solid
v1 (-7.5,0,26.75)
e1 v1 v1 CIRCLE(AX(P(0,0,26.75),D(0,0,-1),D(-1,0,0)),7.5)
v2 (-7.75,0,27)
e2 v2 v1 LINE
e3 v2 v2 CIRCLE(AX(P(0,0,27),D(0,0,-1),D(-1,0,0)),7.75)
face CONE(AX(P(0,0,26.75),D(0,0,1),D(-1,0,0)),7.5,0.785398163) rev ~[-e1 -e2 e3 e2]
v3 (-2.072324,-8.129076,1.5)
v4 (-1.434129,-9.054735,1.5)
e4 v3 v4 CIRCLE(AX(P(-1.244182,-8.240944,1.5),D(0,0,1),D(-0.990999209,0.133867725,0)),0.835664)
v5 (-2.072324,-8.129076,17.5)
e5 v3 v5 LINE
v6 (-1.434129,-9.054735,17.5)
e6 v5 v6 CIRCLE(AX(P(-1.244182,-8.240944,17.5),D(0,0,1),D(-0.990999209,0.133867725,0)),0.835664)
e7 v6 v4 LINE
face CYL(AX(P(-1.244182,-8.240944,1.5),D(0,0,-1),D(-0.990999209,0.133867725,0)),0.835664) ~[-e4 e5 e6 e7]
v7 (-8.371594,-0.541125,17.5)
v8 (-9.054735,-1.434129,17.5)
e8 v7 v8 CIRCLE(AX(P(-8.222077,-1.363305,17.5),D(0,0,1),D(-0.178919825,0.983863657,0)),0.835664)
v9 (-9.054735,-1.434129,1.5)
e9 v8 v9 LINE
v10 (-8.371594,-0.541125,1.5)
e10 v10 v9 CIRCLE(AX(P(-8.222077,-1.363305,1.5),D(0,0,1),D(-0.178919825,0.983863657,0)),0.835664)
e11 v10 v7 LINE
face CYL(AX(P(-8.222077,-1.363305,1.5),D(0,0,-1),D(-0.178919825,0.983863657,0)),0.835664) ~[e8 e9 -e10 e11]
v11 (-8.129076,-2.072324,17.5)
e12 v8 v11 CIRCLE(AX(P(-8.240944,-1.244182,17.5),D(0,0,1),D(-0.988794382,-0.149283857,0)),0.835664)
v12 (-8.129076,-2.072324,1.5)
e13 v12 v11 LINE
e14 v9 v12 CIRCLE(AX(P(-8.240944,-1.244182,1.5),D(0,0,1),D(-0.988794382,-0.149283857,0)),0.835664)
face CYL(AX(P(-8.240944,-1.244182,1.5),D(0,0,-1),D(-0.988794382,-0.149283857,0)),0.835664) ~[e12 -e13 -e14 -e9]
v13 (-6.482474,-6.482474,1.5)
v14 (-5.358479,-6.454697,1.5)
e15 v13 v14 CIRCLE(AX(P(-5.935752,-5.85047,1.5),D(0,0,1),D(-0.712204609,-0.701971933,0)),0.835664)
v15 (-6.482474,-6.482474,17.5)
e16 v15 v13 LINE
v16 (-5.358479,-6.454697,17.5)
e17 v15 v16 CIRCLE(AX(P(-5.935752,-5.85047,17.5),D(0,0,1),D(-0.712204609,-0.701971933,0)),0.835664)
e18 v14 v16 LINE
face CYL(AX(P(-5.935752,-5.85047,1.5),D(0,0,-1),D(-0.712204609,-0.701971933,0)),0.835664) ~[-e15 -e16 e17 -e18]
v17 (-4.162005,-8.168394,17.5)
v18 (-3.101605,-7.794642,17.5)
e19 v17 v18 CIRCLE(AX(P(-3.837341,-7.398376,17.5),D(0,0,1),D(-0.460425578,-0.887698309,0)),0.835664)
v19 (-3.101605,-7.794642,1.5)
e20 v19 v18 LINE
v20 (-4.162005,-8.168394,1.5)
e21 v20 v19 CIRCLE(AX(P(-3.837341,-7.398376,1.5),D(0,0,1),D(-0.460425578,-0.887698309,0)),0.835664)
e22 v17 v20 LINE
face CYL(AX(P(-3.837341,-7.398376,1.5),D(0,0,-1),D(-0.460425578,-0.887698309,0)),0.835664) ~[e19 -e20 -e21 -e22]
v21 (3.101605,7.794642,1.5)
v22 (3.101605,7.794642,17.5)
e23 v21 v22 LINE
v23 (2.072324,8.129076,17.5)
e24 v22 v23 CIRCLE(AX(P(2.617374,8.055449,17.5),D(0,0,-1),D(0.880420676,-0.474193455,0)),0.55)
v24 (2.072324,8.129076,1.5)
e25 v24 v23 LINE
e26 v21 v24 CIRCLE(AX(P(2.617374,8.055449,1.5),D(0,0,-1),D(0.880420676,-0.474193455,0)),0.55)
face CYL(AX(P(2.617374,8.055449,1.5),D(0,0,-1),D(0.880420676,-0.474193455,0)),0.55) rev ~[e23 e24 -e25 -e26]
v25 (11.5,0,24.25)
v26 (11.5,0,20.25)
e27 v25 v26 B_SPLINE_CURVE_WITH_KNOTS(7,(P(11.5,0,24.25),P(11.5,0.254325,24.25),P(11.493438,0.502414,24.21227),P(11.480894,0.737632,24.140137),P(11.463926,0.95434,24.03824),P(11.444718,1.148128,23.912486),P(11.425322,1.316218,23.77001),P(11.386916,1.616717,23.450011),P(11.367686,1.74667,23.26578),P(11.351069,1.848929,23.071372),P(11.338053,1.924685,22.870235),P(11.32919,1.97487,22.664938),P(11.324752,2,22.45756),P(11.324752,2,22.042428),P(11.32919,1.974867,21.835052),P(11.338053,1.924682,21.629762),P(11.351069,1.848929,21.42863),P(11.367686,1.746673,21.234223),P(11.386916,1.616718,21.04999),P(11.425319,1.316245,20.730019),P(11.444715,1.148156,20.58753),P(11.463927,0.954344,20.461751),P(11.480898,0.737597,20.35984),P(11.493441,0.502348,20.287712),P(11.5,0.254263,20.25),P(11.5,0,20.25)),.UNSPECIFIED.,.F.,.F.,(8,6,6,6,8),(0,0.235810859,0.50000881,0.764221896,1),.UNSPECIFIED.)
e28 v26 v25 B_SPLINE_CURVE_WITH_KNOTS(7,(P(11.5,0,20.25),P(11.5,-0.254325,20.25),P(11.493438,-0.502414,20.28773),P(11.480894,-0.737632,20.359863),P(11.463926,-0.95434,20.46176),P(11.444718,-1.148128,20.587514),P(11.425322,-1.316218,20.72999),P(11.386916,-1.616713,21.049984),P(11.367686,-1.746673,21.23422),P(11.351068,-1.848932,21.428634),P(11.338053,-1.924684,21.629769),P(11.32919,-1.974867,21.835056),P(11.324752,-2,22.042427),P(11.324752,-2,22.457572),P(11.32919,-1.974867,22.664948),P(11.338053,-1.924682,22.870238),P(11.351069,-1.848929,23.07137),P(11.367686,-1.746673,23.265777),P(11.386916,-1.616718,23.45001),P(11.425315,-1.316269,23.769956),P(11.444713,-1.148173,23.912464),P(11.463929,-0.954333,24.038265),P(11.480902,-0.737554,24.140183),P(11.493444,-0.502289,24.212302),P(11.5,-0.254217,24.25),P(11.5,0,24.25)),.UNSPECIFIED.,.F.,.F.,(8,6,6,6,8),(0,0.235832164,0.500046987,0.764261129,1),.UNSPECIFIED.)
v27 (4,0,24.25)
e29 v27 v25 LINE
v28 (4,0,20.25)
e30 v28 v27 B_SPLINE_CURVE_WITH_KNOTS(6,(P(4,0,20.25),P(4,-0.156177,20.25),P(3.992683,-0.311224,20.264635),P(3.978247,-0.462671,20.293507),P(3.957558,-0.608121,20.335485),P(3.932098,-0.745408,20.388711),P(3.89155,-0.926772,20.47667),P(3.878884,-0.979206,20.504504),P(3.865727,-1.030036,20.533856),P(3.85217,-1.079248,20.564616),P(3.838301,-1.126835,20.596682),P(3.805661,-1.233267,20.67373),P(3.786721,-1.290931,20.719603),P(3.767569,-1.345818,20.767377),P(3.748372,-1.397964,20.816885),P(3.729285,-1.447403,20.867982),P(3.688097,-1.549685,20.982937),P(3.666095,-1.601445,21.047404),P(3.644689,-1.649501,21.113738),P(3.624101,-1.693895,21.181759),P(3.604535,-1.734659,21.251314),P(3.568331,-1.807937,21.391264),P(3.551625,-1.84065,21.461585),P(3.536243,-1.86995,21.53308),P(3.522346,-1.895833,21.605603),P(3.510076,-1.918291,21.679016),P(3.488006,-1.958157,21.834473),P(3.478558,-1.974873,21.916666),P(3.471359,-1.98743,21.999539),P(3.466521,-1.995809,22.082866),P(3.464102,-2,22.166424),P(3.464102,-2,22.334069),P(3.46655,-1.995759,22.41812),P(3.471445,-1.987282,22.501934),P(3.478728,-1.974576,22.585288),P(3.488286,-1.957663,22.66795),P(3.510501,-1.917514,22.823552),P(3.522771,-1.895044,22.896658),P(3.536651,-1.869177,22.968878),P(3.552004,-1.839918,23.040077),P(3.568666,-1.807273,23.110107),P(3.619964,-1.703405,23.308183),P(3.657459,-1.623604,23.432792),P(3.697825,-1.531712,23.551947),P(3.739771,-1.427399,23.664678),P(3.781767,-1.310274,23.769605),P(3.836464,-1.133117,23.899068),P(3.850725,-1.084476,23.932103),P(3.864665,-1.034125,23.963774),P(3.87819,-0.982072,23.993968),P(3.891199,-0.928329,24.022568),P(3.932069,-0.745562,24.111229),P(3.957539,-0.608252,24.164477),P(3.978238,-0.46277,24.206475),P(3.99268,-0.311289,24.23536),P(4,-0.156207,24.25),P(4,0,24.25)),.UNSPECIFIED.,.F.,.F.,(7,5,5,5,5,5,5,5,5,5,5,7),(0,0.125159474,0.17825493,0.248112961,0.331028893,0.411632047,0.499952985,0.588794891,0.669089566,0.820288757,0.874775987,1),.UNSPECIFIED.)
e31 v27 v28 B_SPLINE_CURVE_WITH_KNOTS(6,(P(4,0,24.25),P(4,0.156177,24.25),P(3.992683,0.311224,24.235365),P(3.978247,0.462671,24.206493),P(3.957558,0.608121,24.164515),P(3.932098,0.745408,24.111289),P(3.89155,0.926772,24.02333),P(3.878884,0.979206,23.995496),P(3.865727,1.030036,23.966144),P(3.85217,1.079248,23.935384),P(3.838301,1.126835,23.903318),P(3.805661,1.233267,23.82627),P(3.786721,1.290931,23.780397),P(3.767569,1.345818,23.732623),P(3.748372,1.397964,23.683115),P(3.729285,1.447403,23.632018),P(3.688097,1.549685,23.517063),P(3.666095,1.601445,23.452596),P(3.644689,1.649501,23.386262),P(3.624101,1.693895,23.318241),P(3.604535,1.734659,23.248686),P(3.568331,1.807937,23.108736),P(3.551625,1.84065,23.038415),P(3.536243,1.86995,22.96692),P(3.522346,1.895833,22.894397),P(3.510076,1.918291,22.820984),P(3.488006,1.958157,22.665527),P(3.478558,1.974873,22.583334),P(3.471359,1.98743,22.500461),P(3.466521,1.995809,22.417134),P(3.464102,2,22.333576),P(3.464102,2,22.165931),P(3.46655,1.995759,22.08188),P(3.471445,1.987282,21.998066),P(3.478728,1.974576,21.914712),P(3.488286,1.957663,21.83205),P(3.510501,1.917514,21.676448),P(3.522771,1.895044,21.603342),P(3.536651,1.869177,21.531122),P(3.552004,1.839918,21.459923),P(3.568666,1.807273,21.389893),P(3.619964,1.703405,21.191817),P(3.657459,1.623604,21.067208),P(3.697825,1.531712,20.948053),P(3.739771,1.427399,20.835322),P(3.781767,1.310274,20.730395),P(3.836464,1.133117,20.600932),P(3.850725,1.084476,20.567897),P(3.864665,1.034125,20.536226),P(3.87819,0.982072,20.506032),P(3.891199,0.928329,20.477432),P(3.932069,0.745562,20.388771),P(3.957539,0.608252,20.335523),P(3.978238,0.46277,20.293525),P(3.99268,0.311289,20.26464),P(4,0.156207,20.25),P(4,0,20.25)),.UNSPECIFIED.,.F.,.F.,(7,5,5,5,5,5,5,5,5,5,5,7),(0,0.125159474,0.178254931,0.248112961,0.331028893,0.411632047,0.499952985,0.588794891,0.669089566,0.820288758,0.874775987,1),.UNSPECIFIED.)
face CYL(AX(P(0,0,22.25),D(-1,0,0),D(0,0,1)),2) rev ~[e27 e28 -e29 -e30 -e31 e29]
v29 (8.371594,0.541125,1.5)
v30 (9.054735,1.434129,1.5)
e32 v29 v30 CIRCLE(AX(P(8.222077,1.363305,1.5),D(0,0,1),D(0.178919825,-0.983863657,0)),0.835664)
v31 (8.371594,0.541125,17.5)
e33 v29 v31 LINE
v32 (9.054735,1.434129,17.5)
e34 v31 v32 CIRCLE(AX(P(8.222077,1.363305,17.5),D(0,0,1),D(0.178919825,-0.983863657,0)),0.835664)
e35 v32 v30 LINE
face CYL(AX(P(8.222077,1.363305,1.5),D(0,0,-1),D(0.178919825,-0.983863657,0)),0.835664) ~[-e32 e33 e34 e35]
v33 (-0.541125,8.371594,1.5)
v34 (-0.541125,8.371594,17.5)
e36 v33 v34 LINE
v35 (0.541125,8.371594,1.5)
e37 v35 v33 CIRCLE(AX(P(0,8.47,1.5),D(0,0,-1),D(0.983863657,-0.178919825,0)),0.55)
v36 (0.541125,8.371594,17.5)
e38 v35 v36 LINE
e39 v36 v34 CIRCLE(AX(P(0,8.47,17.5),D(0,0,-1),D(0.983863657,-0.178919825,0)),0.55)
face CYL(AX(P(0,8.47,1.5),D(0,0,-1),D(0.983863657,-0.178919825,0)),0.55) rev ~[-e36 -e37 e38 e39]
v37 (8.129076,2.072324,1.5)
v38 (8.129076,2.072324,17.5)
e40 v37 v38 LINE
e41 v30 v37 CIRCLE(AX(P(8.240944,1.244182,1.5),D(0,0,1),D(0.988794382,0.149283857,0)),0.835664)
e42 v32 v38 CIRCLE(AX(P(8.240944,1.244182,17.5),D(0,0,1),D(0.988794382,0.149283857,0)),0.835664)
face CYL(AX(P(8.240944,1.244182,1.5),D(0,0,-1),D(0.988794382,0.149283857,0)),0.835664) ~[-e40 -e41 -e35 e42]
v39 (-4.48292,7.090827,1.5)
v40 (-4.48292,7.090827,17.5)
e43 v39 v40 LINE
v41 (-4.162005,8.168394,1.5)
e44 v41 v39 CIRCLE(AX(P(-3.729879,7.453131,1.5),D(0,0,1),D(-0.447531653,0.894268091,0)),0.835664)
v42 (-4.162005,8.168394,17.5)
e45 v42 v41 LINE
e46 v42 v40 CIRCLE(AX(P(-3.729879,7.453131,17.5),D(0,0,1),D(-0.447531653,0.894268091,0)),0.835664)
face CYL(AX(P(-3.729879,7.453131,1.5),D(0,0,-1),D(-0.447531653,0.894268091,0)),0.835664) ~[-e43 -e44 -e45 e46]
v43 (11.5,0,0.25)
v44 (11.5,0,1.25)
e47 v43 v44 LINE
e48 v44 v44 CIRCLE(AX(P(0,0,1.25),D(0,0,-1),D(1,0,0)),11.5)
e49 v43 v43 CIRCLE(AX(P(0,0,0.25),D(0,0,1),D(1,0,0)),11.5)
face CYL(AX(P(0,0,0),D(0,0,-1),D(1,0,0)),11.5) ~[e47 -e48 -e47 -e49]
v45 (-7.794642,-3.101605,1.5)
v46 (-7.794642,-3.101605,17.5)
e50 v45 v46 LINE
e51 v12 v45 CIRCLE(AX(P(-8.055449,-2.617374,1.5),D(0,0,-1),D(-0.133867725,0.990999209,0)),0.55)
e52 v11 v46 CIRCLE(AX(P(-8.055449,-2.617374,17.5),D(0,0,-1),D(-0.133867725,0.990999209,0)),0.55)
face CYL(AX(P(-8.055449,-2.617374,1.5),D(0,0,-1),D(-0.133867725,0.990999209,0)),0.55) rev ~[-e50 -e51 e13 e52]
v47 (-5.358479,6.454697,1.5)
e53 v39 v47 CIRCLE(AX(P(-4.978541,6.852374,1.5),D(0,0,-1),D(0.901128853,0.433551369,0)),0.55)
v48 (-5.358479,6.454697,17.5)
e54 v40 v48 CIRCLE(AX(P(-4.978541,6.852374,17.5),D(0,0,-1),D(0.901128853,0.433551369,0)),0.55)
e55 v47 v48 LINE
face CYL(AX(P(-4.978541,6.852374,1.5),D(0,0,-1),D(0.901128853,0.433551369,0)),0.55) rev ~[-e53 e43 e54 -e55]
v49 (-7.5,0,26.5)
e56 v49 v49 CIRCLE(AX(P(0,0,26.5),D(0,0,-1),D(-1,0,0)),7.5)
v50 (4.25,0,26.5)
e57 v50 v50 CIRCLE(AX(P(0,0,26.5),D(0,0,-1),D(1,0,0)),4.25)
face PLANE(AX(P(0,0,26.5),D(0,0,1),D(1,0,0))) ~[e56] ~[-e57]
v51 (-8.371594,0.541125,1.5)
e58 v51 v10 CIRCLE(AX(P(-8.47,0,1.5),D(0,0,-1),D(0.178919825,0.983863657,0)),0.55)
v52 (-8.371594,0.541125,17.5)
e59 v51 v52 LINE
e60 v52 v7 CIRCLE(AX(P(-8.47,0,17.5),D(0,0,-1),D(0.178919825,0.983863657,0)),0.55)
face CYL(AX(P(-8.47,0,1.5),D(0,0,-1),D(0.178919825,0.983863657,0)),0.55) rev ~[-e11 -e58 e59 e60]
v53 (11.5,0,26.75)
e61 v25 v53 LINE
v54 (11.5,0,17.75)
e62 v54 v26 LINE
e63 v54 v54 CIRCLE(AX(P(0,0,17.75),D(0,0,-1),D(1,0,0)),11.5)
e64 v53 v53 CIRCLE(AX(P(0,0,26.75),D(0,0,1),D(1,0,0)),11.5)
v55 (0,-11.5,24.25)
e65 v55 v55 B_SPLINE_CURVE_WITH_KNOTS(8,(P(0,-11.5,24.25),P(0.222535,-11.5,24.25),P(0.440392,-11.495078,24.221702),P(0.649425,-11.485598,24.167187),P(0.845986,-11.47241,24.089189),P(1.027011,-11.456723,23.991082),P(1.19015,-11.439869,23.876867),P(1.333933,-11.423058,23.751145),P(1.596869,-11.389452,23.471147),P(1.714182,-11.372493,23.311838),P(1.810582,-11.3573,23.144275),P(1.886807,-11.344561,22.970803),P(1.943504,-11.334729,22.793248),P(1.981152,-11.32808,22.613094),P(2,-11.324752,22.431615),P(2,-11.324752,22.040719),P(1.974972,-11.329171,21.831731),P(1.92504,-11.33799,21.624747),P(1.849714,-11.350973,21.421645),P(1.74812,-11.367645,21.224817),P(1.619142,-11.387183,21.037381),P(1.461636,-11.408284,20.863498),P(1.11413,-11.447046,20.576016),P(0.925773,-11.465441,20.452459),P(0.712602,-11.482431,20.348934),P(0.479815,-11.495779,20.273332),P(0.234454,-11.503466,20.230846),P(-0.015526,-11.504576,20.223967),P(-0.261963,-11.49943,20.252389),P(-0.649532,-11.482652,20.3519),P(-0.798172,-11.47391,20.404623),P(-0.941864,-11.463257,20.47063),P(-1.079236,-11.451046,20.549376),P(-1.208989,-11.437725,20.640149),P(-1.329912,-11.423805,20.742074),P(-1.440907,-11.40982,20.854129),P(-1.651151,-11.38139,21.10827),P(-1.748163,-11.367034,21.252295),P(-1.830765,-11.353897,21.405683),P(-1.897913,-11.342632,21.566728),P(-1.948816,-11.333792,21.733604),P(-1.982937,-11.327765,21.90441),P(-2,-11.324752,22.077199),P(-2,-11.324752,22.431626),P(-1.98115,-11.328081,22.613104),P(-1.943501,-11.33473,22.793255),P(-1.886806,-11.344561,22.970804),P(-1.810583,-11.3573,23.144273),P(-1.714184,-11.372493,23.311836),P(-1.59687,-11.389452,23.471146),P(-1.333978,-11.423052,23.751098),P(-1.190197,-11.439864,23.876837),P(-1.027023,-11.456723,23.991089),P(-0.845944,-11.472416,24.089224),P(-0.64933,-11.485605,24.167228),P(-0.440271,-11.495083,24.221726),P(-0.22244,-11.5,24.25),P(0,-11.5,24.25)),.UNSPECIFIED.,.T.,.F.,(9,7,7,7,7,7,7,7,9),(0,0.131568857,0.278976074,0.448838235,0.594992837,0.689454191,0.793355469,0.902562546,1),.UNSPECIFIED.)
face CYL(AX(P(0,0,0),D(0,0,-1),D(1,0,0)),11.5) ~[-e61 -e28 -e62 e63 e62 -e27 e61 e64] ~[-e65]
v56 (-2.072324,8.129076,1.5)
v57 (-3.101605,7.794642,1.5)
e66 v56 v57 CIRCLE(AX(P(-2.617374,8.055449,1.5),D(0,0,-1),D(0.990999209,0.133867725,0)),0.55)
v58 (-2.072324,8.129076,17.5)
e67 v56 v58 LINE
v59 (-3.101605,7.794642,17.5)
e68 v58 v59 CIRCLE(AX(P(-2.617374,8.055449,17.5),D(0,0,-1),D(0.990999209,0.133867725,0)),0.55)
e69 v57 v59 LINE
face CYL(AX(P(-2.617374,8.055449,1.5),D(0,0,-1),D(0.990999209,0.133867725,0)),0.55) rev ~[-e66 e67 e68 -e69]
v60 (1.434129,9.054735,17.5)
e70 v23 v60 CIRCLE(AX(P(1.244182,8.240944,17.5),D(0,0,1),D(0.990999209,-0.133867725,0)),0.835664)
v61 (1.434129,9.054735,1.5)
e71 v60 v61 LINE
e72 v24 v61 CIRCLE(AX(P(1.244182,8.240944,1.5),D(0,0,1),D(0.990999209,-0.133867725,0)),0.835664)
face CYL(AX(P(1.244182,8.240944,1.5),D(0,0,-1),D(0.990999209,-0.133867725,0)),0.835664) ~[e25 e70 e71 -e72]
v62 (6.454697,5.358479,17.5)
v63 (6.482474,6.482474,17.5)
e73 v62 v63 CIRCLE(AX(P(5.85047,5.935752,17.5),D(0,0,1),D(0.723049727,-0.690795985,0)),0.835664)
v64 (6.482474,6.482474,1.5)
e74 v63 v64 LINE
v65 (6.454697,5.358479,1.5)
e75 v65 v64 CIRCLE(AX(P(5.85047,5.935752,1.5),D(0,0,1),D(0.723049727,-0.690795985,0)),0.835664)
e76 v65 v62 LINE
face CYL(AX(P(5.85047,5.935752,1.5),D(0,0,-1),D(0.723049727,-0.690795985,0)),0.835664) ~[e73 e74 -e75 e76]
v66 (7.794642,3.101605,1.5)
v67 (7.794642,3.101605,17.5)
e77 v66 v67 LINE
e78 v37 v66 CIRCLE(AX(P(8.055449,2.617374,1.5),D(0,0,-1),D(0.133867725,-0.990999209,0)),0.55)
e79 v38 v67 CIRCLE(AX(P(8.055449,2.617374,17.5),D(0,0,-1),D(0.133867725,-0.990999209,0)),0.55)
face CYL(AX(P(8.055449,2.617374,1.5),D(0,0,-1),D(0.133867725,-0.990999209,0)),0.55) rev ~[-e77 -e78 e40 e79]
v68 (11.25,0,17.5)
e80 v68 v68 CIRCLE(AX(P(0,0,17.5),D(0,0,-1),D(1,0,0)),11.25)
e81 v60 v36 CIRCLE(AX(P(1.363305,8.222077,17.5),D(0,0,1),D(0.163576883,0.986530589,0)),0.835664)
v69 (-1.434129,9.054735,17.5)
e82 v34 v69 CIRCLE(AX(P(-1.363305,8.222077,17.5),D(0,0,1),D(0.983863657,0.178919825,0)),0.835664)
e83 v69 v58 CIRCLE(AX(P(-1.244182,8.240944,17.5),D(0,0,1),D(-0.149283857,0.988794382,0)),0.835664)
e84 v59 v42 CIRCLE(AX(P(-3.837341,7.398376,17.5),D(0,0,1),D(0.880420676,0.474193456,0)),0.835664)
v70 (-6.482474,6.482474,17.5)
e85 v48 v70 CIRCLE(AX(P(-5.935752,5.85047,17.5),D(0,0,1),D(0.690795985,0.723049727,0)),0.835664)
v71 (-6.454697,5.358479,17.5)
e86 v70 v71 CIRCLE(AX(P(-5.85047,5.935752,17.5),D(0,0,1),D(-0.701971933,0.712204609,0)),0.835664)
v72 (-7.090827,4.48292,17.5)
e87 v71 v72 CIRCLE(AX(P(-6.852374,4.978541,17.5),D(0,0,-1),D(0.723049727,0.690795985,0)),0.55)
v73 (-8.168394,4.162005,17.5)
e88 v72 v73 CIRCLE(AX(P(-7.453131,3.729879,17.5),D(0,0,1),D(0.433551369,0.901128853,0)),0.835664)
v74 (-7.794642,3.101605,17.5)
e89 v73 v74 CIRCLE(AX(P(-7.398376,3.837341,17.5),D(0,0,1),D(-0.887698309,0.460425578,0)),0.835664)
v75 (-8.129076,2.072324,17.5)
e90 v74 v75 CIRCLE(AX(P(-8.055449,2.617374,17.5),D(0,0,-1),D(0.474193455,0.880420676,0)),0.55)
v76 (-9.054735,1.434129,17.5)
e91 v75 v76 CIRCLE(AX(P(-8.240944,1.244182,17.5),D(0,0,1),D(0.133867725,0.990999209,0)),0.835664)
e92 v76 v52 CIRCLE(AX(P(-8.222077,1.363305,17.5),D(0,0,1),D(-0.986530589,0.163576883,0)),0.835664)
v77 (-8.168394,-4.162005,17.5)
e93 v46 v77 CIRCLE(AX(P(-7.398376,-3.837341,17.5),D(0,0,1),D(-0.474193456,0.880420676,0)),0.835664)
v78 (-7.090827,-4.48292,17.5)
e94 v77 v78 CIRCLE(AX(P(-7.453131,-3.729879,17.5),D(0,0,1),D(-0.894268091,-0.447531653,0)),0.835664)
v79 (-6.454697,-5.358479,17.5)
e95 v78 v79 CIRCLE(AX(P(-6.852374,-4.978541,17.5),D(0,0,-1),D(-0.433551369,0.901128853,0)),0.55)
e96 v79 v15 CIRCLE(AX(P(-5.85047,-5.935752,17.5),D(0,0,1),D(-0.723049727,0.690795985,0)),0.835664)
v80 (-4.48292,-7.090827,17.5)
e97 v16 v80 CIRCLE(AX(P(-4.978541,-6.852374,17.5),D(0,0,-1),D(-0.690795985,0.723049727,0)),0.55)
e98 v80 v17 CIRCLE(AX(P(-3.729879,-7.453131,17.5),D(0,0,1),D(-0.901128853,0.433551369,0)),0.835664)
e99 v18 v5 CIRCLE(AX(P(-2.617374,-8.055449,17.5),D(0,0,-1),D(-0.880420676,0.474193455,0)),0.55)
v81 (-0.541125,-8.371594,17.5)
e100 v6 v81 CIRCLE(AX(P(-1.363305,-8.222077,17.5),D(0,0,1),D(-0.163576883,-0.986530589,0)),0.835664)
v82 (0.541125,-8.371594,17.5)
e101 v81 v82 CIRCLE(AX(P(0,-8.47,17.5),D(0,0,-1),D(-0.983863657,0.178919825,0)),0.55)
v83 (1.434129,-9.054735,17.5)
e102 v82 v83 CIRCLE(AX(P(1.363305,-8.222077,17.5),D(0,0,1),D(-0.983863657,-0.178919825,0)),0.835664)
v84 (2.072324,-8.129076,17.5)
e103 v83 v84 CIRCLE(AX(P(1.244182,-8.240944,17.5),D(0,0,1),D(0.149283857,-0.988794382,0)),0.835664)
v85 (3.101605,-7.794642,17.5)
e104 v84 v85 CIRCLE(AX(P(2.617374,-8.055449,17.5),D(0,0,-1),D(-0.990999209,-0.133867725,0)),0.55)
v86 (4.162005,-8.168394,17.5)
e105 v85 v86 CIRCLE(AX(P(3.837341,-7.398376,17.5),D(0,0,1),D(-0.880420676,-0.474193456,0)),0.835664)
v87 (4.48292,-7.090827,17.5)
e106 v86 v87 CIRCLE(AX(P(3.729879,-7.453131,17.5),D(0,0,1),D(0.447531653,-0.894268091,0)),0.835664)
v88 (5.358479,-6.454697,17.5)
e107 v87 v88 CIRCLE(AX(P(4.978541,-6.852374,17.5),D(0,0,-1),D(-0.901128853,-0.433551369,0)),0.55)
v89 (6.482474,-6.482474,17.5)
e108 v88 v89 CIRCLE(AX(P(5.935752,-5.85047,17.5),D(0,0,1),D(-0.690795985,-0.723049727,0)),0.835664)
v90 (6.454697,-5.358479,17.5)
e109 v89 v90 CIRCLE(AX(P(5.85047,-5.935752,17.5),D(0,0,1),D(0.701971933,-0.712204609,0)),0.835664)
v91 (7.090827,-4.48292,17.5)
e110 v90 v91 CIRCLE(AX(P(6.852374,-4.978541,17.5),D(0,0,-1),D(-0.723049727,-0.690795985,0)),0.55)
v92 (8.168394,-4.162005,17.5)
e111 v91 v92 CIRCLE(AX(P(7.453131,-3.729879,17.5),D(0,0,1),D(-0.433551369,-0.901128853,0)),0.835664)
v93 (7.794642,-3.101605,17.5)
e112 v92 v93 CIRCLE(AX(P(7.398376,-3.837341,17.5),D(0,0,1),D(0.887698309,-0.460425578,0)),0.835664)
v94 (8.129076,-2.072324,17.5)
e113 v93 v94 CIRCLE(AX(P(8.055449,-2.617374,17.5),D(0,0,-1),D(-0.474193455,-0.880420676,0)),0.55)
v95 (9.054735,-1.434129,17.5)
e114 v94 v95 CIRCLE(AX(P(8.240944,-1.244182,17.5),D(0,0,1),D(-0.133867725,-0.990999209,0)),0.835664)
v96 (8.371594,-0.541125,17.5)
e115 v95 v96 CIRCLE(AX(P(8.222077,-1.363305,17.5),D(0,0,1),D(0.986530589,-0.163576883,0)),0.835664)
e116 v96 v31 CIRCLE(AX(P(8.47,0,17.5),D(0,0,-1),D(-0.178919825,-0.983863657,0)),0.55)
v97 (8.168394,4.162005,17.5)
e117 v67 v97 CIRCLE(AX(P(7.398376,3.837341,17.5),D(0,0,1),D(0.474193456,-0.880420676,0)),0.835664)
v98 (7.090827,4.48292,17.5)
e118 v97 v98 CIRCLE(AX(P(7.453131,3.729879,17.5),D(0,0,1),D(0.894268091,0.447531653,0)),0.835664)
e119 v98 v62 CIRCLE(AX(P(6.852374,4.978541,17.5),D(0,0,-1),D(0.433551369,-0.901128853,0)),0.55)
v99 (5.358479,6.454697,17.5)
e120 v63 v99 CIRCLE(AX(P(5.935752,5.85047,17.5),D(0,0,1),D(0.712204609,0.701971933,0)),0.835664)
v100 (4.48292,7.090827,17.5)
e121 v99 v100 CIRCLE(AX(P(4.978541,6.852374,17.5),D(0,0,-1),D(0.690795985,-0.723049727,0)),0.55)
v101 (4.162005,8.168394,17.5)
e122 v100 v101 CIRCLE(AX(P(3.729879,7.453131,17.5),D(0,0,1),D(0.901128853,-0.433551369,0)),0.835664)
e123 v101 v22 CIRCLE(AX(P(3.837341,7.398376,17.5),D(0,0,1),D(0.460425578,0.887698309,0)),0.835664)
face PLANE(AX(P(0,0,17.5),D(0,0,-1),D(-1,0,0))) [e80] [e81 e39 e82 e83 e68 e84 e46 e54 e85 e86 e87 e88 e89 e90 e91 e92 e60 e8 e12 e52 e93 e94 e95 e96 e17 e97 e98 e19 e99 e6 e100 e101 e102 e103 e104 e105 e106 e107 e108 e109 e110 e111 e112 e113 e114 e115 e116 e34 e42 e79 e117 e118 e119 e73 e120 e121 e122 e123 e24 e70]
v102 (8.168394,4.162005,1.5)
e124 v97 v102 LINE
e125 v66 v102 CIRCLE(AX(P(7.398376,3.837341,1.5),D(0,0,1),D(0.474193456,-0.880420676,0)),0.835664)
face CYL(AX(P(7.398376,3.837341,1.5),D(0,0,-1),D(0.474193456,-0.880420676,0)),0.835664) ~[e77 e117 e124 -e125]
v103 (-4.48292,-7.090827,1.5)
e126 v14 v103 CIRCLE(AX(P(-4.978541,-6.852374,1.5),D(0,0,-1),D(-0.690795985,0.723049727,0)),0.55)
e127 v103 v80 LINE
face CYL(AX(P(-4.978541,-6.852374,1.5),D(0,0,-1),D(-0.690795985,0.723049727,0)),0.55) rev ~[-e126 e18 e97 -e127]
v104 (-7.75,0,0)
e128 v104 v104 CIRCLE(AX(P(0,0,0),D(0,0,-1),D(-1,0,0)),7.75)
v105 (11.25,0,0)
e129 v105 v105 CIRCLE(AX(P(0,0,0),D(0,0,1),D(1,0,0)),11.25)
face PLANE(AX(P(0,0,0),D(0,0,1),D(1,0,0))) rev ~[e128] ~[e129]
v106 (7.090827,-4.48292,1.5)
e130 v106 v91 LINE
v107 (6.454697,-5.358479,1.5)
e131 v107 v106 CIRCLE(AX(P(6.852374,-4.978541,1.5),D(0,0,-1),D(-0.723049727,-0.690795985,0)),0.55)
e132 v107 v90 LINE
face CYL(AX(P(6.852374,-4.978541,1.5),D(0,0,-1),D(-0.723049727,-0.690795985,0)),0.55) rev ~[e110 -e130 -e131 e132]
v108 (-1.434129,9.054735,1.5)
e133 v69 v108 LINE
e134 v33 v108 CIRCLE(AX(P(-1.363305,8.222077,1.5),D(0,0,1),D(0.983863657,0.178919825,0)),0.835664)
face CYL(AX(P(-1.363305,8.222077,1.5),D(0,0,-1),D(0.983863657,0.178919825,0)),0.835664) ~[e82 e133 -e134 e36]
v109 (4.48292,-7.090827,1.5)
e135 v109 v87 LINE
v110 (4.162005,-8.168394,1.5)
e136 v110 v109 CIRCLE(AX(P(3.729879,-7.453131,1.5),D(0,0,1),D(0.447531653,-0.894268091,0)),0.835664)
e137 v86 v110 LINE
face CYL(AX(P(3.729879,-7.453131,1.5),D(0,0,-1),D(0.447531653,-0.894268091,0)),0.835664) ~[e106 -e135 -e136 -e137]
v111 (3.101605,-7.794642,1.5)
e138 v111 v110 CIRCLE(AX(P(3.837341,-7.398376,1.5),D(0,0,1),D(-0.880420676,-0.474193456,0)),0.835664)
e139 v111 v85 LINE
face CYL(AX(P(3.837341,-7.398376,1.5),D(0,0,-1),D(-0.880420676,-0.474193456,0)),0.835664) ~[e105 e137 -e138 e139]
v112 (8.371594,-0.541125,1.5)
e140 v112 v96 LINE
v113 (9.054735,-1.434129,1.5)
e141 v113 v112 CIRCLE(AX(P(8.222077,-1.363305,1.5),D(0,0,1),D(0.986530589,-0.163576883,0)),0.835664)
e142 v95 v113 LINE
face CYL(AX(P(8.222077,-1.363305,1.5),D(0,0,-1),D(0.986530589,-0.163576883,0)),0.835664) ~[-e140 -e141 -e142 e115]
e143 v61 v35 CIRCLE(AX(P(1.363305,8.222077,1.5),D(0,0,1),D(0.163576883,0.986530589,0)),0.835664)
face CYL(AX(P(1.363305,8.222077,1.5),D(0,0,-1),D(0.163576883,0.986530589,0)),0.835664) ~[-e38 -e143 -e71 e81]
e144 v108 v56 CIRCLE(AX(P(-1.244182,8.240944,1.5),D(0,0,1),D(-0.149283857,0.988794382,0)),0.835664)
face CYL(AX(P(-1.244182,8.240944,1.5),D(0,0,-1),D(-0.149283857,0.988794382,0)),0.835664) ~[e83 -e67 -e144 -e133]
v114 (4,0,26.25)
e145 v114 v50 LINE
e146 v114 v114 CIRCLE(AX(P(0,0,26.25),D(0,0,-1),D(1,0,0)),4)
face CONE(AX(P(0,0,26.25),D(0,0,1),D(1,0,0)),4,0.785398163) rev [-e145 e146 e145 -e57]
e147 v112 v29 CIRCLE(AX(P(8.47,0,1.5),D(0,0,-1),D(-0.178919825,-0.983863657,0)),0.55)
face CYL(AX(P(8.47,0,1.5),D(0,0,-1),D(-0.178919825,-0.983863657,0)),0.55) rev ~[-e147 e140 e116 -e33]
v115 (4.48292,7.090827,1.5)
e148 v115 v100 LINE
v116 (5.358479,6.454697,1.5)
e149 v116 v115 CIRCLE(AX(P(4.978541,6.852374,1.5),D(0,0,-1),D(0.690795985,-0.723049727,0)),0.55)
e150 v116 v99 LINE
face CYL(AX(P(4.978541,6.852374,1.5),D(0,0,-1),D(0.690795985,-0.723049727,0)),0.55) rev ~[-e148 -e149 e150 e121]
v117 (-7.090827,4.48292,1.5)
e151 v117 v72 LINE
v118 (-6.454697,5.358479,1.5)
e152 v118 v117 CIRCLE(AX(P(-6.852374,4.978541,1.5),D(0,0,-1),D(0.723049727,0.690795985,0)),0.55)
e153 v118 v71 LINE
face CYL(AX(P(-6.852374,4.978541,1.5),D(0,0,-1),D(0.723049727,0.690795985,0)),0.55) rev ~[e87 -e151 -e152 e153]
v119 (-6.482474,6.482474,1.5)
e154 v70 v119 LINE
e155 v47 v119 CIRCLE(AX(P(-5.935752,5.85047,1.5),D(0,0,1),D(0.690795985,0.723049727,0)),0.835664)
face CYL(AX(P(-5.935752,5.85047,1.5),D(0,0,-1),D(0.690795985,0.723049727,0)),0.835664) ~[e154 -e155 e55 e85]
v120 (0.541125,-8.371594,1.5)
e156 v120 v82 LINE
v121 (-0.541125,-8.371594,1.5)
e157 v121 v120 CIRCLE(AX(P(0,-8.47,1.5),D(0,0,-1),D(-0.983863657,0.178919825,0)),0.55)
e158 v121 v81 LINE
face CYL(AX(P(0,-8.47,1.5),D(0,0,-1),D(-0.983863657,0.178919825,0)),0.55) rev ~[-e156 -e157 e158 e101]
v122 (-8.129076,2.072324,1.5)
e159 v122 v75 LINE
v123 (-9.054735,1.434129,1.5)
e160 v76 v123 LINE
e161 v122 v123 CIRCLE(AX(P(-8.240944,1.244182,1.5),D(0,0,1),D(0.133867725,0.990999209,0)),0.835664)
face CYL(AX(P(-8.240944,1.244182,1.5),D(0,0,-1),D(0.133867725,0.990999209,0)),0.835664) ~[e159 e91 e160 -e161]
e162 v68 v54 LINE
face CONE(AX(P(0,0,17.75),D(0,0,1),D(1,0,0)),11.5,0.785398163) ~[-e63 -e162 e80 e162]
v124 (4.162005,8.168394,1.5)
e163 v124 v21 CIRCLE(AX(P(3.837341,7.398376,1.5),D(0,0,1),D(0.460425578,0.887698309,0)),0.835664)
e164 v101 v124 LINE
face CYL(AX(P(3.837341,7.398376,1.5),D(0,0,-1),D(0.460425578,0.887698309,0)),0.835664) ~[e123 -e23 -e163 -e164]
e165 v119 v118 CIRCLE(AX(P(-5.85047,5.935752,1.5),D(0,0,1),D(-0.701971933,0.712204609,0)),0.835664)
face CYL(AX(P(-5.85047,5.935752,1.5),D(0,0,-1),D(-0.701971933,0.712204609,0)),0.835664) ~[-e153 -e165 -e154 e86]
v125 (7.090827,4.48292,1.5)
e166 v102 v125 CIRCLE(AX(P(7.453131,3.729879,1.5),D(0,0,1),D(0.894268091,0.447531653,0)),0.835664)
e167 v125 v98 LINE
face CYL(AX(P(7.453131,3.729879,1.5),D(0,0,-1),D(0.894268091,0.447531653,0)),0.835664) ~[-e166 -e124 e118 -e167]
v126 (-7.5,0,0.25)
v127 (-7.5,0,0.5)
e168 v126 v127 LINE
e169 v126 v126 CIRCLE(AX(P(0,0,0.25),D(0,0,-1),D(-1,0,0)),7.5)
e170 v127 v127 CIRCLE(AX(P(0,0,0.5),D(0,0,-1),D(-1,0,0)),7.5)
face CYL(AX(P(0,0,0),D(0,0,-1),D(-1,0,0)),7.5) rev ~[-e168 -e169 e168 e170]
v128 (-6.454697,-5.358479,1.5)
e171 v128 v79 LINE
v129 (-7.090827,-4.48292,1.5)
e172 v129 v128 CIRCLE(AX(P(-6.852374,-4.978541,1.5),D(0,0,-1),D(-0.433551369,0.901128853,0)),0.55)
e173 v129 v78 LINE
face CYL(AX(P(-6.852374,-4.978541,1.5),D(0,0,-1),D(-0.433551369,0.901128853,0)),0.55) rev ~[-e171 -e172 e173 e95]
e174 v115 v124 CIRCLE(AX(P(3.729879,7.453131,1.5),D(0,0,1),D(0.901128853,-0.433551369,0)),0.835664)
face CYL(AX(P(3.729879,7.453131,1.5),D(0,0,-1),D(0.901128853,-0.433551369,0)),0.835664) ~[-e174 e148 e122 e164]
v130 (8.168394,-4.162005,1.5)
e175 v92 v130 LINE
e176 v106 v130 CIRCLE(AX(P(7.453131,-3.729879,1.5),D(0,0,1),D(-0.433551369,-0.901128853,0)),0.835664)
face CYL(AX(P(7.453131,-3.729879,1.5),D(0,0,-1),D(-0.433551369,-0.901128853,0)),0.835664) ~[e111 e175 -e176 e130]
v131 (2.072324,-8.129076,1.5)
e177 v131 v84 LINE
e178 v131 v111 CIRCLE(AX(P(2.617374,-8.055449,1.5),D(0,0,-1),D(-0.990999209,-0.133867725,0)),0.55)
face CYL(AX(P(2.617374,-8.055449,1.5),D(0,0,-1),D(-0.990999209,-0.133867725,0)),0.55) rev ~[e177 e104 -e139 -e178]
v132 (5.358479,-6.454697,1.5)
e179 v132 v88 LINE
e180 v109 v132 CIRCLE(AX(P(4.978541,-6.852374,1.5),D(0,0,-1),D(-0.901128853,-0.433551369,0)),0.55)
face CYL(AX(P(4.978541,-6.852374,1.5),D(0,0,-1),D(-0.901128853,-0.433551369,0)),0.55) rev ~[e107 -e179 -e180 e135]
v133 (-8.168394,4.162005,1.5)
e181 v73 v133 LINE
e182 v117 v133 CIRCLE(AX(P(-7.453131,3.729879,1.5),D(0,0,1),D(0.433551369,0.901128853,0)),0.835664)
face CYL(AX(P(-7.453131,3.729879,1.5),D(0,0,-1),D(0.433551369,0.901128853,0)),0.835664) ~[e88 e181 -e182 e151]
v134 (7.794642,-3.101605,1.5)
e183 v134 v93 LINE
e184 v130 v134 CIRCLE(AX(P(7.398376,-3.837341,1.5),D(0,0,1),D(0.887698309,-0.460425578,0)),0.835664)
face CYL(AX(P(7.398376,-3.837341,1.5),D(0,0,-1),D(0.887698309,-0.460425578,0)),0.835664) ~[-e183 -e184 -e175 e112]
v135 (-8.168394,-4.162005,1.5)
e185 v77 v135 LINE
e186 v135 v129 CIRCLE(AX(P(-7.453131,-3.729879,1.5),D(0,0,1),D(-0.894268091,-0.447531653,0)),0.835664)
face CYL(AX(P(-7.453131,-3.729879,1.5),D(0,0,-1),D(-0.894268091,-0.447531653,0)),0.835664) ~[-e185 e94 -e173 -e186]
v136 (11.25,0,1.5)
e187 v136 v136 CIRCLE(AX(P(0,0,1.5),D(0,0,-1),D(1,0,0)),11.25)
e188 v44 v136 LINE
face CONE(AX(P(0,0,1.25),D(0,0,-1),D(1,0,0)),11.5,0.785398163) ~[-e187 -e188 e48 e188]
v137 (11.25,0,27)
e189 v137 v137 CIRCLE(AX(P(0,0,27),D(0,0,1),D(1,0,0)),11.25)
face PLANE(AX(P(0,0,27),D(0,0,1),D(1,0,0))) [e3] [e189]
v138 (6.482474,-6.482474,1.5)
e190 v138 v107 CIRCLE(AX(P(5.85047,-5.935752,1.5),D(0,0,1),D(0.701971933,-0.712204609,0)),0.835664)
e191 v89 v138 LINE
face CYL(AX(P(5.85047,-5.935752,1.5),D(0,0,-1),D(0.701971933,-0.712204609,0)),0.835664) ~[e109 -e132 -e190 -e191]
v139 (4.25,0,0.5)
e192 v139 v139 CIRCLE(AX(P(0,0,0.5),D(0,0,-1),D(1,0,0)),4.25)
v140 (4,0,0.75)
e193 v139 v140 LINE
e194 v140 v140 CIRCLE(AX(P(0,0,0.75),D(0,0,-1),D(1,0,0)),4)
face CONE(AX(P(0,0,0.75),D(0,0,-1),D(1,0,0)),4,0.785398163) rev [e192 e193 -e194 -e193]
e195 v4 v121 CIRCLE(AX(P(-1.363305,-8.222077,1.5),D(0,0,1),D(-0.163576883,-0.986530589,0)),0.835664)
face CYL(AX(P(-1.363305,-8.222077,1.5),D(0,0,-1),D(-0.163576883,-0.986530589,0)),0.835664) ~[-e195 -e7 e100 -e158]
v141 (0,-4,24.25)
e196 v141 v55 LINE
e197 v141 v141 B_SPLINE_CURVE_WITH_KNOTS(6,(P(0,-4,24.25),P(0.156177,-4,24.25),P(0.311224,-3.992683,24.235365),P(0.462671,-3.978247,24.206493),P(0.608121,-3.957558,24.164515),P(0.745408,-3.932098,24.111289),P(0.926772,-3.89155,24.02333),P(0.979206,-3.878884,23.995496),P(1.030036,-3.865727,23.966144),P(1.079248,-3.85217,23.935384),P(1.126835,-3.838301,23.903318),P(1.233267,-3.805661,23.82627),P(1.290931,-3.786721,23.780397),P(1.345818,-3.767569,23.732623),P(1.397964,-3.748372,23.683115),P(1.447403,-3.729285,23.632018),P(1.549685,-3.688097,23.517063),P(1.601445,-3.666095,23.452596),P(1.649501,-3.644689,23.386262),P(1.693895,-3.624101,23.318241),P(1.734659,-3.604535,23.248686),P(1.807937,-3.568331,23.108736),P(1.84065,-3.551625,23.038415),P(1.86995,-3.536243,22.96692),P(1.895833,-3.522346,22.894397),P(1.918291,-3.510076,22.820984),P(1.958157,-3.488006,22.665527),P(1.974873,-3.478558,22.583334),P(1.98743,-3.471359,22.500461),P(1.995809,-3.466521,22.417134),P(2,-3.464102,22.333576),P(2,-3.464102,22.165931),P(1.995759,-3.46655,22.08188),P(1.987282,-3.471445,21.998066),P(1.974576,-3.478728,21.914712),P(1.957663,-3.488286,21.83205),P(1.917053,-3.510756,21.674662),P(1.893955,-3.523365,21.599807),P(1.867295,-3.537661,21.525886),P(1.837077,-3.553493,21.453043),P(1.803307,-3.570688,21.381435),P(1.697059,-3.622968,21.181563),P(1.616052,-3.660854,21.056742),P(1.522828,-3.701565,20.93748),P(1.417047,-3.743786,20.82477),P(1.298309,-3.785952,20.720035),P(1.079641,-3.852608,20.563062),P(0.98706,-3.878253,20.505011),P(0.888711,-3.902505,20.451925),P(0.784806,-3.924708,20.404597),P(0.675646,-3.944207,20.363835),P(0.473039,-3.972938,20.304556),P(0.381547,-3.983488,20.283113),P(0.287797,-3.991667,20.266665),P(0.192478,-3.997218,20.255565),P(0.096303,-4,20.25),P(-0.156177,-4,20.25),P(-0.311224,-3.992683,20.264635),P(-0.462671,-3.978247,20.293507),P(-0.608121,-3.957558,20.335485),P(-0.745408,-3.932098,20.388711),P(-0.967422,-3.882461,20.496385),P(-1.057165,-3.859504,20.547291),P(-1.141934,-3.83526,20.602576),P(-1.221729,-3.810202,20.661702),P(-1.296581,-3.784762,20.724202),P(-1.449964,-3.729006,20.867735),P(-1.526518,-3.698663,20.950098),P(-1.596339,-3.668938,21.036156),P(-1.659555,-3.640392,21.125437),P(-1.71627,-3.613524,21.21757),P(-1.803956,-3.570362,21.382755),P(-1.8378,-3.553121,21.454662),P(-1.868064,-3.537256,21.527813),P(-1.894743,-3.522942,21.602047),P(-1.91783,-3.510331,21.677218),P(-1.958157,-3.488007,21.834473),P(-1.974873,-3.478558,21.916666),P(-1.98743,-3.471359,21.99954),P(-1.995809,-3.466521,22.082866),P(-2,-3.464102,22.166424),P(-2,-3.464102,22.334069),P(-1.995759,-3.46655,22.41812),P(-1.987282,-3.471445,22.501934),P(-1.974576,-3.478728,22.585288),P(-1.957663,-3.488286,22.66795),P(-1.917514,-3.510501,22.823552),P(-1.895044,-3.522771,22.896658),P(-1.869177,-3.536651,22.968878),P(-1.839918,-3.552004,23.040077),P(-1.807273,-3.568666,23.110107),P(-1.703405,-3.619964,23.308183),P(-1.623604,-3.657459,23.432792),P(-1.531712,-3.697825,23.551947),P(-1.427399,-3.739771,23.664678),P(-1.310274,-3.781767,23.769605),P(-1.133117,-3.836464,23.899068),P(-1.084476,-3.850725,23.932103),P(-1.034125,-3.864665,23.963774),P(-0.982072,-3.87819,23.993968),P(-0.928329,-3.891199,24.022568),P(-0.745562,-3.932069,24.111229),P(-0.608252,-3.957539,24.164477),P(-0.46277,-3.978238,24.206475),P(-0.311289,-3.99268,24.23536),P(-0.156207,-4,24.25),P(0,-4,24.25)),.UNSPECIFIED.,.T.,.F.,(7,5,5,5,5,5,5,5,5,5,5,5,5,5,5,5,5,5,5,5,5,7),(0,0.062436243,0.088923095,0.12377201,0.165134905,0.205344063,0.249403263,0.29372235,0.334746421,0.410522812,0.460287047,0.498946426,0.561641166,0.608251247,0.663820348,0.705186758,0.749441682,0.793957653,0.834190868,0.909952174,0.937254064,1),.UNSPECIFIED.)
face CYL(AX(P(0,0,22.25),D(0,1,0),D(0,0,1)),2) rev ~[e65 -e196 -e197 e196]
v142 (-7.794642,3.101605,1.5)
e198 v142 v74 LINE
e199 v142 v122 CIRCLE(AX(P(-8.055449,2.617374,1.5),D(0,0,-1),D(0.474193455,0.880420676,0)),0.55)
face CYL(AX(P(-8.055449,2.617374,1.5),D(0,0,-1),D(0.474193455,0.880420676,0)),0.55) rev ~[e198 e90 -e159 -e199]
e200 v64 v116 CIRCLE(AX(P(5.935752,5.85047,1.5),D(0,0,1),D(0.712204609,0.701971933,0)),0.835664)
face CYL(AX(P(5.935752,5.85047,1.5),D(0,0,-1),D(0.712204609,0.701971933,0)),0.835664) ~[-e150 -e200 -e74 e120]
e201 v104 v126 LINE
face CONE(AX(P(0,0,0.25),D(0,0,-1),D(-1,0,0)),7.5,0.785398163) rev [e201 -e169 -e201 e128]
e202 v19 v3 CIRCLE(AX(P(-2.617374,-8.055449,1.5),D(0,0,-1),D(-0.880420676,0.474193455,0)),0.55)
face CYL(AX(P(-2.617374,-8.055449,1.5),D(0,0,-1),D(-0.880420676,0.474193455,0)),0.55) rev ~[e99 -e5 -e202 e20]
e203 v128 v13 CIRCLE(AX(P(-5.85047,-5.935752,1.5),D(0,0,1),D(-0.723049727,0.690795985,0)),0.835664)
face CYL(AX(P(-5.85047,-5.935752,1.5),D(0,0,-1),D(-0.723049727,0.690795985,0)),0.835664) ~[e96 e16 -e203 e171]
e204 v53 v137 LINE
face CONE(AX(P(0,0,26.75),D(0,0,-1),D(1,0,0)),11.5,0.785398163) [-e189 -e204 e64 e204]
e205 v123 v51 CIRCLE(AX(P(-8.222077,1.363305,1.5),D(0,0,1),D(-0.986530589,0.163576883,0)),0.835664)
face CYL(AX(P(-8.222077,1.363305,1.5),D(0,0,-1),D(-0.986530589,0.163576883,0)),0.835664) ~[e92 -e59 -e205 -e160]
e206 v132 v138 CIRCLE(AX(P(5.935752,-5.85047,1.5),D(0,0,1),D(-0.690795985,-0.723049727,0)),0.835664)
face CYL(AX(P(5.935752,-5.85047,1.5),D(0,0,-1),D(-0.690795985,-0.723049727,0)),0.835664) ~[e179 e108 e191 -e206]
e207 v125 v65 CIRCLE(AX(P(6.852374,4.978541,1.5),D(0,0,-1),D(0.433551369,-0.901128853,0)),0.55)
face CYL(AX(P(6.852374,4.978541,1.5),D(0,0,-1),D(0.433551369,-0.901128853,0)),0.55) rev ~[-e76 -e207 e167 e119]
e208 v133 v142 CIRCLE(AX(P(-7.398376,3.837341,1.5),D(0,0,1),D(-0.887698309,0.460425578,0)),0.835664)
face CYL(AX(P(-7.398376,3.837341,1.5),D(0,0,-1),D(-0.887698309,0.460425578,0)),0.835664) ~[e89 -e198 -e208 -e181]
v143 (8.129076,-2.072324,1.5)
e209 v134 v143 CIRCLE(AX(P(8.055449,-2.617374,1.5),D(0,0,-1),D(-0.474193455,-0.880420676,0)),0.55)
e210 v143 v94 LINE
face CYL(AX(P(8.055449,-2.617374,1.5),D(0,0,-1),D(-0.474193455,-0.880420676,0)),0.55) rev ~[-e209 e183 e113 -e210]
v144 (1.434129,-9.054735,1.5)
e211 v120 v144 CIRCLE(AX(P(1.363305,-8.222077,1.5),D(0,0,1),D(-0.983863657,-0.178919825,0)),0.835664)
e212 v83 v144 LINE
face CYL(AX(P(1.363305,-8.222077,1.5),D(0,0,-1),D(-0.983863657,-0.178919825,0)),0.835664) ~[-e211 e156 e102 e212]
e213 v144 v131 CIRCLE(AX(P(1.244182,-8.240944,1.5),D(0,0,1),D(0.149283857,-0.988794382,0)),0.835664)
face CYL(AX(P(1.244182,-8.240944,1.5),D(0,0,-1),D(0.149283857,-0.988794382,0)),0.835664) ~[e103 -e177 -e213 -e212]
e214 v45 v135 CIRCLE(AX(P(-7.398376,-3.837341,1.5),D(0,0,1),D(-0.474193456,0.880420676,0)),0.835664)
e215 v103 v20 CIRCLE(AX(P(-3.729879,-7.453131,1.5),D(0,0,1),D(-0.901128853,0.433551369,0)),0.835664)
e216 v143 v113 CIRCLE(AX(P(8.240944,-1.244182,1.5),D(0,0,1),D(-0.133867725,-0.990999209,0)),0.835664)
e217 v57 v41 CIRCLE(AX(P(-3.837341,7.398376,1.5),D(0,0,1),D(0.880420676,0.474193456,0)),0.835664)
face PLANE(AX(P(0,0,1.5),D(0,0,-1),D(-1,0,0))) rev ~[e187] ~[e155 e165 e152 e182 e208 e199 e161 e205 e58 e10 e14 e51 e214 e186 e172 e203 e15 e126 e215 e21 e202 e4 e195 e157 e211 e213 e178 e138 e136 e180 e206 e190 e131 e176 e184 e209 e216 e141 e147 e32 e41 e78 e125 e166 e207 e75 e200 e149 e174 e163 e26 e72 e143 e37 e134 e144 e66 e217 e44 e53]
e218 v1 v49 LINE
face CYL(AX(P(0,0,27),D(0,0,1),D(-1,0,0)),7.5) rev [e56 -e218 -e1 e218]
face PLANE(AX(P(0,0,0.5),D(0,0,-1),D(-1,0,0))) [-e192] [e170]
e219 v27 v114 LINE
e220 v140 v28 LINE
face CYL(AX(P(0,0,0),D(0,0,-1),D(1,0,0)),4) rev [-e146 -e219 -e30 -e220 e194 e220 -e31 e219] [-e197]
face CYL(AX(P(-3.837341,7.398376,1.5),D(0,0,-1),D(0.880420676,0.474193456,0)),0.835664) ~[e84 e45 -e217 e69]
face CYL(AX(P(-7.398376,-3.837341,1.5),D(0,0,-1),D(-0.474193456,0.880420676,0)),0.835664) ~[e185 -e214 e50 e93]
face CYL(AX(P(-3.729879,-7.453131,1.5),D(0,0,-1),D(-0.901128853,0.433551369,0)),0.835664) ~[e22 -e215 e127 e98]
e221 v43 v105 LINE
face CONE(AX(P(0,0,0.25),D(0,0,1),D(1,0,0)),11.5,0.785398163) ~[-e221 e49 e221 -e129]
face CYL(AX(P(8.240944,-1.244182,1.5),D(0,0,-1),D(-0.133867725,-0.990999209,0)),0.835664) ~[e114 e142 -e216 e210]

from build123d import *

# Parameters (mm, degrees)
ESQUISSE1_R                  = 11.5
ESQUISSE1_R_2                = 4
BOSS_EXTRU_1_DEPTH           = 27
ESQUISSE2_R                  = 11.5
ESQUISSE2_R_2                = 9.17
ENL_V_MAT_EXTRU_1_DEPTH      = 16
ENL_V_START                  = 16
ENL_V_MAT_EXTRU_2_DEPTH      = 16
R_P_TITION_CIRCULAIRE1_COUNT = 20
ESQUISSE4_R                  = 2
ENL_V_MAT_EXTRU_3_DEPTH      = 16
R_P_TITION_CIRCULAIRE2_COUNT = 2
R_P_TITION_CIRCULAIRE2_ANGLE = 90
ESQUISSE5_R                  = 7.5
ENL_V_MAT_EXTRU_4_DEPTH      = 0.5
CHANFREIN1_SIZE              = 0.25


with BuildPart() as part:
    # Esquisse1 → Boss.-Extru.1 (new body)
    with BuildSketch(Plane.XY):
        Circle(ESQUISSE1_R)
        Circle(ESQUISSE1_R_2, mode=Mode.SUBTRACT)
    extrude(amount=BOSS_EXTRU_1_DEPTH)

    # Esquisse2 → Enlèv. mat.-Extru.1 (cut)
    with BuildSketch(Plane(origin=(0, 0, 1.5), x_dir=(-1, 0, 0), z_dir=(0, 0, -1))):
        Circle(ESQUISSE2_R)
        Circle(ESQUISSE2_R_2, mode=Mode.SUBTRACT)
    extrude(amount=-ENL_V_MAT_EXTRU_1_DEPTH, mode=Mode.SUBTRACT)

    # Esquisse3 → Enlèv. mat.-Extru.2 (cut)
    with BuildSketch(Plane(origin=(0, 0, 17.5), x_dir=(-1, 0, 0), z_dir=(0, 0, -1)).offset(ENL_V_START)):
        with BuildLine():
            ThreePointArc((-1.5, 9.046485505), (-0.88232463, 8.905445978), (-0.541125011, 8.371594096))
            ThreePointArc((-0.541125011, 8.371594096), (0, 7.92), (0.541125011, 8.371594096))
            ThreePointArc((0.541125011, 8.371594096), (0.88232463, 8.905445978), (1.5, 9.046485505))
            ThreePointArc((1.5, 9.046485505), (0, 9.17), (-1.5, 9.046485505))
        make_face()
    enl_v_mat_extru_2 = extrude(amount=-ENL_V_MAT_EXTRU_2_DEPTH, mode=Mode.SUBTRACT)

    # Répétition circulaire1: Enlèv. mat.-Extru.2 ×20 about axis
    r_p_tition_circulaire1_axis = Axis((0, 0, 0), (0, 0, 1))
    for i in range(1, R_P_TITION_CIRCULAIRE1_COUNT):
        add(enl_v_mat_extru_2.rotate(r_p_tition_circulaire1_axis, i * 360 / R_P_TITION_CIRCULAIRE1_COUNT), mode=Mode.SUBTRACT)

    # Esquisse4 → Enlèv. mat.-Extru.3 (cut)
    with BuildSketch(Plane(origin=(0, 0, 0), x_dir=(1, 0, 0), z_dir=(0, 1, 0))):
        with Locations(Location((0, -22.25, 0), (0, 0, 270))):
            Circle(ESQUISSE4_R)
    enl_v_mat_extru_3 = extrude(amount=-ENL_V_MAT_EXTRU_3_DEPTH, mode=Mode.SUBTRACT)

    # Répétition circulaire2: Enlèv. mat.-Extru.3 ×2 about axis
    r_p_tition_circulaire2_axis = Axis((0, 0, 27), (0, 0, 1))
    for i in range(1, R_P_TITION_CIRCULAIRE2_COUNT):
        add(enl_v_mat_extru_3.rotate(r_p_tition_circulaire2_axis, i * R_P_TITION_CIRCULAIRE2_ANGLE / (R_P_TITION_CIRCULAIRE2_COUNT - 1)), mode=Mode.SUBTRACT)

    # Esquisse5 → Enlèv. mat.-Extru.4 (cut)
    with BuildSketch(Plane(origin=(0, 0, 0), x_dir=(-1, 0, 0), z_dir=(0, 0, -1))):
        Circle(ESQUISSE5_R)
    enl_v_mat_extru_4 = extrude(amount=-ENL_V_MAT_EXTRU_4_DEPTH, mode=Mode.SUBTRACT)

    # Symétrie1: Enlèv. mat.-Extru.4 across plane
    add(enl_v_mat_extru_4.mirror(Plane(origin=(0, 0, 13.5), x_dir=(1, 0, 0), z_dir=(0, 0, -1))), mode=Mode.SUBTRACT)

    # Chanfrein1
    chanfrein1_edges = [part.edges().sort_by_distance(p)[0] for p in [
        (-11.5, 0, 17.5),
        (-11.5, 0, 1.5),
        (-4, 0, 0.5),
        (7.5, 0, 0),
        (-11.5, 0, 0),
        (7.5, 0, 27),
        (-4, 0, 26.5),
        (-11.5, 0, 27),
    ]]
    chamfer(chanfrein1_edges, length=CHANFREIN1_SIZE)


solid = part.part
